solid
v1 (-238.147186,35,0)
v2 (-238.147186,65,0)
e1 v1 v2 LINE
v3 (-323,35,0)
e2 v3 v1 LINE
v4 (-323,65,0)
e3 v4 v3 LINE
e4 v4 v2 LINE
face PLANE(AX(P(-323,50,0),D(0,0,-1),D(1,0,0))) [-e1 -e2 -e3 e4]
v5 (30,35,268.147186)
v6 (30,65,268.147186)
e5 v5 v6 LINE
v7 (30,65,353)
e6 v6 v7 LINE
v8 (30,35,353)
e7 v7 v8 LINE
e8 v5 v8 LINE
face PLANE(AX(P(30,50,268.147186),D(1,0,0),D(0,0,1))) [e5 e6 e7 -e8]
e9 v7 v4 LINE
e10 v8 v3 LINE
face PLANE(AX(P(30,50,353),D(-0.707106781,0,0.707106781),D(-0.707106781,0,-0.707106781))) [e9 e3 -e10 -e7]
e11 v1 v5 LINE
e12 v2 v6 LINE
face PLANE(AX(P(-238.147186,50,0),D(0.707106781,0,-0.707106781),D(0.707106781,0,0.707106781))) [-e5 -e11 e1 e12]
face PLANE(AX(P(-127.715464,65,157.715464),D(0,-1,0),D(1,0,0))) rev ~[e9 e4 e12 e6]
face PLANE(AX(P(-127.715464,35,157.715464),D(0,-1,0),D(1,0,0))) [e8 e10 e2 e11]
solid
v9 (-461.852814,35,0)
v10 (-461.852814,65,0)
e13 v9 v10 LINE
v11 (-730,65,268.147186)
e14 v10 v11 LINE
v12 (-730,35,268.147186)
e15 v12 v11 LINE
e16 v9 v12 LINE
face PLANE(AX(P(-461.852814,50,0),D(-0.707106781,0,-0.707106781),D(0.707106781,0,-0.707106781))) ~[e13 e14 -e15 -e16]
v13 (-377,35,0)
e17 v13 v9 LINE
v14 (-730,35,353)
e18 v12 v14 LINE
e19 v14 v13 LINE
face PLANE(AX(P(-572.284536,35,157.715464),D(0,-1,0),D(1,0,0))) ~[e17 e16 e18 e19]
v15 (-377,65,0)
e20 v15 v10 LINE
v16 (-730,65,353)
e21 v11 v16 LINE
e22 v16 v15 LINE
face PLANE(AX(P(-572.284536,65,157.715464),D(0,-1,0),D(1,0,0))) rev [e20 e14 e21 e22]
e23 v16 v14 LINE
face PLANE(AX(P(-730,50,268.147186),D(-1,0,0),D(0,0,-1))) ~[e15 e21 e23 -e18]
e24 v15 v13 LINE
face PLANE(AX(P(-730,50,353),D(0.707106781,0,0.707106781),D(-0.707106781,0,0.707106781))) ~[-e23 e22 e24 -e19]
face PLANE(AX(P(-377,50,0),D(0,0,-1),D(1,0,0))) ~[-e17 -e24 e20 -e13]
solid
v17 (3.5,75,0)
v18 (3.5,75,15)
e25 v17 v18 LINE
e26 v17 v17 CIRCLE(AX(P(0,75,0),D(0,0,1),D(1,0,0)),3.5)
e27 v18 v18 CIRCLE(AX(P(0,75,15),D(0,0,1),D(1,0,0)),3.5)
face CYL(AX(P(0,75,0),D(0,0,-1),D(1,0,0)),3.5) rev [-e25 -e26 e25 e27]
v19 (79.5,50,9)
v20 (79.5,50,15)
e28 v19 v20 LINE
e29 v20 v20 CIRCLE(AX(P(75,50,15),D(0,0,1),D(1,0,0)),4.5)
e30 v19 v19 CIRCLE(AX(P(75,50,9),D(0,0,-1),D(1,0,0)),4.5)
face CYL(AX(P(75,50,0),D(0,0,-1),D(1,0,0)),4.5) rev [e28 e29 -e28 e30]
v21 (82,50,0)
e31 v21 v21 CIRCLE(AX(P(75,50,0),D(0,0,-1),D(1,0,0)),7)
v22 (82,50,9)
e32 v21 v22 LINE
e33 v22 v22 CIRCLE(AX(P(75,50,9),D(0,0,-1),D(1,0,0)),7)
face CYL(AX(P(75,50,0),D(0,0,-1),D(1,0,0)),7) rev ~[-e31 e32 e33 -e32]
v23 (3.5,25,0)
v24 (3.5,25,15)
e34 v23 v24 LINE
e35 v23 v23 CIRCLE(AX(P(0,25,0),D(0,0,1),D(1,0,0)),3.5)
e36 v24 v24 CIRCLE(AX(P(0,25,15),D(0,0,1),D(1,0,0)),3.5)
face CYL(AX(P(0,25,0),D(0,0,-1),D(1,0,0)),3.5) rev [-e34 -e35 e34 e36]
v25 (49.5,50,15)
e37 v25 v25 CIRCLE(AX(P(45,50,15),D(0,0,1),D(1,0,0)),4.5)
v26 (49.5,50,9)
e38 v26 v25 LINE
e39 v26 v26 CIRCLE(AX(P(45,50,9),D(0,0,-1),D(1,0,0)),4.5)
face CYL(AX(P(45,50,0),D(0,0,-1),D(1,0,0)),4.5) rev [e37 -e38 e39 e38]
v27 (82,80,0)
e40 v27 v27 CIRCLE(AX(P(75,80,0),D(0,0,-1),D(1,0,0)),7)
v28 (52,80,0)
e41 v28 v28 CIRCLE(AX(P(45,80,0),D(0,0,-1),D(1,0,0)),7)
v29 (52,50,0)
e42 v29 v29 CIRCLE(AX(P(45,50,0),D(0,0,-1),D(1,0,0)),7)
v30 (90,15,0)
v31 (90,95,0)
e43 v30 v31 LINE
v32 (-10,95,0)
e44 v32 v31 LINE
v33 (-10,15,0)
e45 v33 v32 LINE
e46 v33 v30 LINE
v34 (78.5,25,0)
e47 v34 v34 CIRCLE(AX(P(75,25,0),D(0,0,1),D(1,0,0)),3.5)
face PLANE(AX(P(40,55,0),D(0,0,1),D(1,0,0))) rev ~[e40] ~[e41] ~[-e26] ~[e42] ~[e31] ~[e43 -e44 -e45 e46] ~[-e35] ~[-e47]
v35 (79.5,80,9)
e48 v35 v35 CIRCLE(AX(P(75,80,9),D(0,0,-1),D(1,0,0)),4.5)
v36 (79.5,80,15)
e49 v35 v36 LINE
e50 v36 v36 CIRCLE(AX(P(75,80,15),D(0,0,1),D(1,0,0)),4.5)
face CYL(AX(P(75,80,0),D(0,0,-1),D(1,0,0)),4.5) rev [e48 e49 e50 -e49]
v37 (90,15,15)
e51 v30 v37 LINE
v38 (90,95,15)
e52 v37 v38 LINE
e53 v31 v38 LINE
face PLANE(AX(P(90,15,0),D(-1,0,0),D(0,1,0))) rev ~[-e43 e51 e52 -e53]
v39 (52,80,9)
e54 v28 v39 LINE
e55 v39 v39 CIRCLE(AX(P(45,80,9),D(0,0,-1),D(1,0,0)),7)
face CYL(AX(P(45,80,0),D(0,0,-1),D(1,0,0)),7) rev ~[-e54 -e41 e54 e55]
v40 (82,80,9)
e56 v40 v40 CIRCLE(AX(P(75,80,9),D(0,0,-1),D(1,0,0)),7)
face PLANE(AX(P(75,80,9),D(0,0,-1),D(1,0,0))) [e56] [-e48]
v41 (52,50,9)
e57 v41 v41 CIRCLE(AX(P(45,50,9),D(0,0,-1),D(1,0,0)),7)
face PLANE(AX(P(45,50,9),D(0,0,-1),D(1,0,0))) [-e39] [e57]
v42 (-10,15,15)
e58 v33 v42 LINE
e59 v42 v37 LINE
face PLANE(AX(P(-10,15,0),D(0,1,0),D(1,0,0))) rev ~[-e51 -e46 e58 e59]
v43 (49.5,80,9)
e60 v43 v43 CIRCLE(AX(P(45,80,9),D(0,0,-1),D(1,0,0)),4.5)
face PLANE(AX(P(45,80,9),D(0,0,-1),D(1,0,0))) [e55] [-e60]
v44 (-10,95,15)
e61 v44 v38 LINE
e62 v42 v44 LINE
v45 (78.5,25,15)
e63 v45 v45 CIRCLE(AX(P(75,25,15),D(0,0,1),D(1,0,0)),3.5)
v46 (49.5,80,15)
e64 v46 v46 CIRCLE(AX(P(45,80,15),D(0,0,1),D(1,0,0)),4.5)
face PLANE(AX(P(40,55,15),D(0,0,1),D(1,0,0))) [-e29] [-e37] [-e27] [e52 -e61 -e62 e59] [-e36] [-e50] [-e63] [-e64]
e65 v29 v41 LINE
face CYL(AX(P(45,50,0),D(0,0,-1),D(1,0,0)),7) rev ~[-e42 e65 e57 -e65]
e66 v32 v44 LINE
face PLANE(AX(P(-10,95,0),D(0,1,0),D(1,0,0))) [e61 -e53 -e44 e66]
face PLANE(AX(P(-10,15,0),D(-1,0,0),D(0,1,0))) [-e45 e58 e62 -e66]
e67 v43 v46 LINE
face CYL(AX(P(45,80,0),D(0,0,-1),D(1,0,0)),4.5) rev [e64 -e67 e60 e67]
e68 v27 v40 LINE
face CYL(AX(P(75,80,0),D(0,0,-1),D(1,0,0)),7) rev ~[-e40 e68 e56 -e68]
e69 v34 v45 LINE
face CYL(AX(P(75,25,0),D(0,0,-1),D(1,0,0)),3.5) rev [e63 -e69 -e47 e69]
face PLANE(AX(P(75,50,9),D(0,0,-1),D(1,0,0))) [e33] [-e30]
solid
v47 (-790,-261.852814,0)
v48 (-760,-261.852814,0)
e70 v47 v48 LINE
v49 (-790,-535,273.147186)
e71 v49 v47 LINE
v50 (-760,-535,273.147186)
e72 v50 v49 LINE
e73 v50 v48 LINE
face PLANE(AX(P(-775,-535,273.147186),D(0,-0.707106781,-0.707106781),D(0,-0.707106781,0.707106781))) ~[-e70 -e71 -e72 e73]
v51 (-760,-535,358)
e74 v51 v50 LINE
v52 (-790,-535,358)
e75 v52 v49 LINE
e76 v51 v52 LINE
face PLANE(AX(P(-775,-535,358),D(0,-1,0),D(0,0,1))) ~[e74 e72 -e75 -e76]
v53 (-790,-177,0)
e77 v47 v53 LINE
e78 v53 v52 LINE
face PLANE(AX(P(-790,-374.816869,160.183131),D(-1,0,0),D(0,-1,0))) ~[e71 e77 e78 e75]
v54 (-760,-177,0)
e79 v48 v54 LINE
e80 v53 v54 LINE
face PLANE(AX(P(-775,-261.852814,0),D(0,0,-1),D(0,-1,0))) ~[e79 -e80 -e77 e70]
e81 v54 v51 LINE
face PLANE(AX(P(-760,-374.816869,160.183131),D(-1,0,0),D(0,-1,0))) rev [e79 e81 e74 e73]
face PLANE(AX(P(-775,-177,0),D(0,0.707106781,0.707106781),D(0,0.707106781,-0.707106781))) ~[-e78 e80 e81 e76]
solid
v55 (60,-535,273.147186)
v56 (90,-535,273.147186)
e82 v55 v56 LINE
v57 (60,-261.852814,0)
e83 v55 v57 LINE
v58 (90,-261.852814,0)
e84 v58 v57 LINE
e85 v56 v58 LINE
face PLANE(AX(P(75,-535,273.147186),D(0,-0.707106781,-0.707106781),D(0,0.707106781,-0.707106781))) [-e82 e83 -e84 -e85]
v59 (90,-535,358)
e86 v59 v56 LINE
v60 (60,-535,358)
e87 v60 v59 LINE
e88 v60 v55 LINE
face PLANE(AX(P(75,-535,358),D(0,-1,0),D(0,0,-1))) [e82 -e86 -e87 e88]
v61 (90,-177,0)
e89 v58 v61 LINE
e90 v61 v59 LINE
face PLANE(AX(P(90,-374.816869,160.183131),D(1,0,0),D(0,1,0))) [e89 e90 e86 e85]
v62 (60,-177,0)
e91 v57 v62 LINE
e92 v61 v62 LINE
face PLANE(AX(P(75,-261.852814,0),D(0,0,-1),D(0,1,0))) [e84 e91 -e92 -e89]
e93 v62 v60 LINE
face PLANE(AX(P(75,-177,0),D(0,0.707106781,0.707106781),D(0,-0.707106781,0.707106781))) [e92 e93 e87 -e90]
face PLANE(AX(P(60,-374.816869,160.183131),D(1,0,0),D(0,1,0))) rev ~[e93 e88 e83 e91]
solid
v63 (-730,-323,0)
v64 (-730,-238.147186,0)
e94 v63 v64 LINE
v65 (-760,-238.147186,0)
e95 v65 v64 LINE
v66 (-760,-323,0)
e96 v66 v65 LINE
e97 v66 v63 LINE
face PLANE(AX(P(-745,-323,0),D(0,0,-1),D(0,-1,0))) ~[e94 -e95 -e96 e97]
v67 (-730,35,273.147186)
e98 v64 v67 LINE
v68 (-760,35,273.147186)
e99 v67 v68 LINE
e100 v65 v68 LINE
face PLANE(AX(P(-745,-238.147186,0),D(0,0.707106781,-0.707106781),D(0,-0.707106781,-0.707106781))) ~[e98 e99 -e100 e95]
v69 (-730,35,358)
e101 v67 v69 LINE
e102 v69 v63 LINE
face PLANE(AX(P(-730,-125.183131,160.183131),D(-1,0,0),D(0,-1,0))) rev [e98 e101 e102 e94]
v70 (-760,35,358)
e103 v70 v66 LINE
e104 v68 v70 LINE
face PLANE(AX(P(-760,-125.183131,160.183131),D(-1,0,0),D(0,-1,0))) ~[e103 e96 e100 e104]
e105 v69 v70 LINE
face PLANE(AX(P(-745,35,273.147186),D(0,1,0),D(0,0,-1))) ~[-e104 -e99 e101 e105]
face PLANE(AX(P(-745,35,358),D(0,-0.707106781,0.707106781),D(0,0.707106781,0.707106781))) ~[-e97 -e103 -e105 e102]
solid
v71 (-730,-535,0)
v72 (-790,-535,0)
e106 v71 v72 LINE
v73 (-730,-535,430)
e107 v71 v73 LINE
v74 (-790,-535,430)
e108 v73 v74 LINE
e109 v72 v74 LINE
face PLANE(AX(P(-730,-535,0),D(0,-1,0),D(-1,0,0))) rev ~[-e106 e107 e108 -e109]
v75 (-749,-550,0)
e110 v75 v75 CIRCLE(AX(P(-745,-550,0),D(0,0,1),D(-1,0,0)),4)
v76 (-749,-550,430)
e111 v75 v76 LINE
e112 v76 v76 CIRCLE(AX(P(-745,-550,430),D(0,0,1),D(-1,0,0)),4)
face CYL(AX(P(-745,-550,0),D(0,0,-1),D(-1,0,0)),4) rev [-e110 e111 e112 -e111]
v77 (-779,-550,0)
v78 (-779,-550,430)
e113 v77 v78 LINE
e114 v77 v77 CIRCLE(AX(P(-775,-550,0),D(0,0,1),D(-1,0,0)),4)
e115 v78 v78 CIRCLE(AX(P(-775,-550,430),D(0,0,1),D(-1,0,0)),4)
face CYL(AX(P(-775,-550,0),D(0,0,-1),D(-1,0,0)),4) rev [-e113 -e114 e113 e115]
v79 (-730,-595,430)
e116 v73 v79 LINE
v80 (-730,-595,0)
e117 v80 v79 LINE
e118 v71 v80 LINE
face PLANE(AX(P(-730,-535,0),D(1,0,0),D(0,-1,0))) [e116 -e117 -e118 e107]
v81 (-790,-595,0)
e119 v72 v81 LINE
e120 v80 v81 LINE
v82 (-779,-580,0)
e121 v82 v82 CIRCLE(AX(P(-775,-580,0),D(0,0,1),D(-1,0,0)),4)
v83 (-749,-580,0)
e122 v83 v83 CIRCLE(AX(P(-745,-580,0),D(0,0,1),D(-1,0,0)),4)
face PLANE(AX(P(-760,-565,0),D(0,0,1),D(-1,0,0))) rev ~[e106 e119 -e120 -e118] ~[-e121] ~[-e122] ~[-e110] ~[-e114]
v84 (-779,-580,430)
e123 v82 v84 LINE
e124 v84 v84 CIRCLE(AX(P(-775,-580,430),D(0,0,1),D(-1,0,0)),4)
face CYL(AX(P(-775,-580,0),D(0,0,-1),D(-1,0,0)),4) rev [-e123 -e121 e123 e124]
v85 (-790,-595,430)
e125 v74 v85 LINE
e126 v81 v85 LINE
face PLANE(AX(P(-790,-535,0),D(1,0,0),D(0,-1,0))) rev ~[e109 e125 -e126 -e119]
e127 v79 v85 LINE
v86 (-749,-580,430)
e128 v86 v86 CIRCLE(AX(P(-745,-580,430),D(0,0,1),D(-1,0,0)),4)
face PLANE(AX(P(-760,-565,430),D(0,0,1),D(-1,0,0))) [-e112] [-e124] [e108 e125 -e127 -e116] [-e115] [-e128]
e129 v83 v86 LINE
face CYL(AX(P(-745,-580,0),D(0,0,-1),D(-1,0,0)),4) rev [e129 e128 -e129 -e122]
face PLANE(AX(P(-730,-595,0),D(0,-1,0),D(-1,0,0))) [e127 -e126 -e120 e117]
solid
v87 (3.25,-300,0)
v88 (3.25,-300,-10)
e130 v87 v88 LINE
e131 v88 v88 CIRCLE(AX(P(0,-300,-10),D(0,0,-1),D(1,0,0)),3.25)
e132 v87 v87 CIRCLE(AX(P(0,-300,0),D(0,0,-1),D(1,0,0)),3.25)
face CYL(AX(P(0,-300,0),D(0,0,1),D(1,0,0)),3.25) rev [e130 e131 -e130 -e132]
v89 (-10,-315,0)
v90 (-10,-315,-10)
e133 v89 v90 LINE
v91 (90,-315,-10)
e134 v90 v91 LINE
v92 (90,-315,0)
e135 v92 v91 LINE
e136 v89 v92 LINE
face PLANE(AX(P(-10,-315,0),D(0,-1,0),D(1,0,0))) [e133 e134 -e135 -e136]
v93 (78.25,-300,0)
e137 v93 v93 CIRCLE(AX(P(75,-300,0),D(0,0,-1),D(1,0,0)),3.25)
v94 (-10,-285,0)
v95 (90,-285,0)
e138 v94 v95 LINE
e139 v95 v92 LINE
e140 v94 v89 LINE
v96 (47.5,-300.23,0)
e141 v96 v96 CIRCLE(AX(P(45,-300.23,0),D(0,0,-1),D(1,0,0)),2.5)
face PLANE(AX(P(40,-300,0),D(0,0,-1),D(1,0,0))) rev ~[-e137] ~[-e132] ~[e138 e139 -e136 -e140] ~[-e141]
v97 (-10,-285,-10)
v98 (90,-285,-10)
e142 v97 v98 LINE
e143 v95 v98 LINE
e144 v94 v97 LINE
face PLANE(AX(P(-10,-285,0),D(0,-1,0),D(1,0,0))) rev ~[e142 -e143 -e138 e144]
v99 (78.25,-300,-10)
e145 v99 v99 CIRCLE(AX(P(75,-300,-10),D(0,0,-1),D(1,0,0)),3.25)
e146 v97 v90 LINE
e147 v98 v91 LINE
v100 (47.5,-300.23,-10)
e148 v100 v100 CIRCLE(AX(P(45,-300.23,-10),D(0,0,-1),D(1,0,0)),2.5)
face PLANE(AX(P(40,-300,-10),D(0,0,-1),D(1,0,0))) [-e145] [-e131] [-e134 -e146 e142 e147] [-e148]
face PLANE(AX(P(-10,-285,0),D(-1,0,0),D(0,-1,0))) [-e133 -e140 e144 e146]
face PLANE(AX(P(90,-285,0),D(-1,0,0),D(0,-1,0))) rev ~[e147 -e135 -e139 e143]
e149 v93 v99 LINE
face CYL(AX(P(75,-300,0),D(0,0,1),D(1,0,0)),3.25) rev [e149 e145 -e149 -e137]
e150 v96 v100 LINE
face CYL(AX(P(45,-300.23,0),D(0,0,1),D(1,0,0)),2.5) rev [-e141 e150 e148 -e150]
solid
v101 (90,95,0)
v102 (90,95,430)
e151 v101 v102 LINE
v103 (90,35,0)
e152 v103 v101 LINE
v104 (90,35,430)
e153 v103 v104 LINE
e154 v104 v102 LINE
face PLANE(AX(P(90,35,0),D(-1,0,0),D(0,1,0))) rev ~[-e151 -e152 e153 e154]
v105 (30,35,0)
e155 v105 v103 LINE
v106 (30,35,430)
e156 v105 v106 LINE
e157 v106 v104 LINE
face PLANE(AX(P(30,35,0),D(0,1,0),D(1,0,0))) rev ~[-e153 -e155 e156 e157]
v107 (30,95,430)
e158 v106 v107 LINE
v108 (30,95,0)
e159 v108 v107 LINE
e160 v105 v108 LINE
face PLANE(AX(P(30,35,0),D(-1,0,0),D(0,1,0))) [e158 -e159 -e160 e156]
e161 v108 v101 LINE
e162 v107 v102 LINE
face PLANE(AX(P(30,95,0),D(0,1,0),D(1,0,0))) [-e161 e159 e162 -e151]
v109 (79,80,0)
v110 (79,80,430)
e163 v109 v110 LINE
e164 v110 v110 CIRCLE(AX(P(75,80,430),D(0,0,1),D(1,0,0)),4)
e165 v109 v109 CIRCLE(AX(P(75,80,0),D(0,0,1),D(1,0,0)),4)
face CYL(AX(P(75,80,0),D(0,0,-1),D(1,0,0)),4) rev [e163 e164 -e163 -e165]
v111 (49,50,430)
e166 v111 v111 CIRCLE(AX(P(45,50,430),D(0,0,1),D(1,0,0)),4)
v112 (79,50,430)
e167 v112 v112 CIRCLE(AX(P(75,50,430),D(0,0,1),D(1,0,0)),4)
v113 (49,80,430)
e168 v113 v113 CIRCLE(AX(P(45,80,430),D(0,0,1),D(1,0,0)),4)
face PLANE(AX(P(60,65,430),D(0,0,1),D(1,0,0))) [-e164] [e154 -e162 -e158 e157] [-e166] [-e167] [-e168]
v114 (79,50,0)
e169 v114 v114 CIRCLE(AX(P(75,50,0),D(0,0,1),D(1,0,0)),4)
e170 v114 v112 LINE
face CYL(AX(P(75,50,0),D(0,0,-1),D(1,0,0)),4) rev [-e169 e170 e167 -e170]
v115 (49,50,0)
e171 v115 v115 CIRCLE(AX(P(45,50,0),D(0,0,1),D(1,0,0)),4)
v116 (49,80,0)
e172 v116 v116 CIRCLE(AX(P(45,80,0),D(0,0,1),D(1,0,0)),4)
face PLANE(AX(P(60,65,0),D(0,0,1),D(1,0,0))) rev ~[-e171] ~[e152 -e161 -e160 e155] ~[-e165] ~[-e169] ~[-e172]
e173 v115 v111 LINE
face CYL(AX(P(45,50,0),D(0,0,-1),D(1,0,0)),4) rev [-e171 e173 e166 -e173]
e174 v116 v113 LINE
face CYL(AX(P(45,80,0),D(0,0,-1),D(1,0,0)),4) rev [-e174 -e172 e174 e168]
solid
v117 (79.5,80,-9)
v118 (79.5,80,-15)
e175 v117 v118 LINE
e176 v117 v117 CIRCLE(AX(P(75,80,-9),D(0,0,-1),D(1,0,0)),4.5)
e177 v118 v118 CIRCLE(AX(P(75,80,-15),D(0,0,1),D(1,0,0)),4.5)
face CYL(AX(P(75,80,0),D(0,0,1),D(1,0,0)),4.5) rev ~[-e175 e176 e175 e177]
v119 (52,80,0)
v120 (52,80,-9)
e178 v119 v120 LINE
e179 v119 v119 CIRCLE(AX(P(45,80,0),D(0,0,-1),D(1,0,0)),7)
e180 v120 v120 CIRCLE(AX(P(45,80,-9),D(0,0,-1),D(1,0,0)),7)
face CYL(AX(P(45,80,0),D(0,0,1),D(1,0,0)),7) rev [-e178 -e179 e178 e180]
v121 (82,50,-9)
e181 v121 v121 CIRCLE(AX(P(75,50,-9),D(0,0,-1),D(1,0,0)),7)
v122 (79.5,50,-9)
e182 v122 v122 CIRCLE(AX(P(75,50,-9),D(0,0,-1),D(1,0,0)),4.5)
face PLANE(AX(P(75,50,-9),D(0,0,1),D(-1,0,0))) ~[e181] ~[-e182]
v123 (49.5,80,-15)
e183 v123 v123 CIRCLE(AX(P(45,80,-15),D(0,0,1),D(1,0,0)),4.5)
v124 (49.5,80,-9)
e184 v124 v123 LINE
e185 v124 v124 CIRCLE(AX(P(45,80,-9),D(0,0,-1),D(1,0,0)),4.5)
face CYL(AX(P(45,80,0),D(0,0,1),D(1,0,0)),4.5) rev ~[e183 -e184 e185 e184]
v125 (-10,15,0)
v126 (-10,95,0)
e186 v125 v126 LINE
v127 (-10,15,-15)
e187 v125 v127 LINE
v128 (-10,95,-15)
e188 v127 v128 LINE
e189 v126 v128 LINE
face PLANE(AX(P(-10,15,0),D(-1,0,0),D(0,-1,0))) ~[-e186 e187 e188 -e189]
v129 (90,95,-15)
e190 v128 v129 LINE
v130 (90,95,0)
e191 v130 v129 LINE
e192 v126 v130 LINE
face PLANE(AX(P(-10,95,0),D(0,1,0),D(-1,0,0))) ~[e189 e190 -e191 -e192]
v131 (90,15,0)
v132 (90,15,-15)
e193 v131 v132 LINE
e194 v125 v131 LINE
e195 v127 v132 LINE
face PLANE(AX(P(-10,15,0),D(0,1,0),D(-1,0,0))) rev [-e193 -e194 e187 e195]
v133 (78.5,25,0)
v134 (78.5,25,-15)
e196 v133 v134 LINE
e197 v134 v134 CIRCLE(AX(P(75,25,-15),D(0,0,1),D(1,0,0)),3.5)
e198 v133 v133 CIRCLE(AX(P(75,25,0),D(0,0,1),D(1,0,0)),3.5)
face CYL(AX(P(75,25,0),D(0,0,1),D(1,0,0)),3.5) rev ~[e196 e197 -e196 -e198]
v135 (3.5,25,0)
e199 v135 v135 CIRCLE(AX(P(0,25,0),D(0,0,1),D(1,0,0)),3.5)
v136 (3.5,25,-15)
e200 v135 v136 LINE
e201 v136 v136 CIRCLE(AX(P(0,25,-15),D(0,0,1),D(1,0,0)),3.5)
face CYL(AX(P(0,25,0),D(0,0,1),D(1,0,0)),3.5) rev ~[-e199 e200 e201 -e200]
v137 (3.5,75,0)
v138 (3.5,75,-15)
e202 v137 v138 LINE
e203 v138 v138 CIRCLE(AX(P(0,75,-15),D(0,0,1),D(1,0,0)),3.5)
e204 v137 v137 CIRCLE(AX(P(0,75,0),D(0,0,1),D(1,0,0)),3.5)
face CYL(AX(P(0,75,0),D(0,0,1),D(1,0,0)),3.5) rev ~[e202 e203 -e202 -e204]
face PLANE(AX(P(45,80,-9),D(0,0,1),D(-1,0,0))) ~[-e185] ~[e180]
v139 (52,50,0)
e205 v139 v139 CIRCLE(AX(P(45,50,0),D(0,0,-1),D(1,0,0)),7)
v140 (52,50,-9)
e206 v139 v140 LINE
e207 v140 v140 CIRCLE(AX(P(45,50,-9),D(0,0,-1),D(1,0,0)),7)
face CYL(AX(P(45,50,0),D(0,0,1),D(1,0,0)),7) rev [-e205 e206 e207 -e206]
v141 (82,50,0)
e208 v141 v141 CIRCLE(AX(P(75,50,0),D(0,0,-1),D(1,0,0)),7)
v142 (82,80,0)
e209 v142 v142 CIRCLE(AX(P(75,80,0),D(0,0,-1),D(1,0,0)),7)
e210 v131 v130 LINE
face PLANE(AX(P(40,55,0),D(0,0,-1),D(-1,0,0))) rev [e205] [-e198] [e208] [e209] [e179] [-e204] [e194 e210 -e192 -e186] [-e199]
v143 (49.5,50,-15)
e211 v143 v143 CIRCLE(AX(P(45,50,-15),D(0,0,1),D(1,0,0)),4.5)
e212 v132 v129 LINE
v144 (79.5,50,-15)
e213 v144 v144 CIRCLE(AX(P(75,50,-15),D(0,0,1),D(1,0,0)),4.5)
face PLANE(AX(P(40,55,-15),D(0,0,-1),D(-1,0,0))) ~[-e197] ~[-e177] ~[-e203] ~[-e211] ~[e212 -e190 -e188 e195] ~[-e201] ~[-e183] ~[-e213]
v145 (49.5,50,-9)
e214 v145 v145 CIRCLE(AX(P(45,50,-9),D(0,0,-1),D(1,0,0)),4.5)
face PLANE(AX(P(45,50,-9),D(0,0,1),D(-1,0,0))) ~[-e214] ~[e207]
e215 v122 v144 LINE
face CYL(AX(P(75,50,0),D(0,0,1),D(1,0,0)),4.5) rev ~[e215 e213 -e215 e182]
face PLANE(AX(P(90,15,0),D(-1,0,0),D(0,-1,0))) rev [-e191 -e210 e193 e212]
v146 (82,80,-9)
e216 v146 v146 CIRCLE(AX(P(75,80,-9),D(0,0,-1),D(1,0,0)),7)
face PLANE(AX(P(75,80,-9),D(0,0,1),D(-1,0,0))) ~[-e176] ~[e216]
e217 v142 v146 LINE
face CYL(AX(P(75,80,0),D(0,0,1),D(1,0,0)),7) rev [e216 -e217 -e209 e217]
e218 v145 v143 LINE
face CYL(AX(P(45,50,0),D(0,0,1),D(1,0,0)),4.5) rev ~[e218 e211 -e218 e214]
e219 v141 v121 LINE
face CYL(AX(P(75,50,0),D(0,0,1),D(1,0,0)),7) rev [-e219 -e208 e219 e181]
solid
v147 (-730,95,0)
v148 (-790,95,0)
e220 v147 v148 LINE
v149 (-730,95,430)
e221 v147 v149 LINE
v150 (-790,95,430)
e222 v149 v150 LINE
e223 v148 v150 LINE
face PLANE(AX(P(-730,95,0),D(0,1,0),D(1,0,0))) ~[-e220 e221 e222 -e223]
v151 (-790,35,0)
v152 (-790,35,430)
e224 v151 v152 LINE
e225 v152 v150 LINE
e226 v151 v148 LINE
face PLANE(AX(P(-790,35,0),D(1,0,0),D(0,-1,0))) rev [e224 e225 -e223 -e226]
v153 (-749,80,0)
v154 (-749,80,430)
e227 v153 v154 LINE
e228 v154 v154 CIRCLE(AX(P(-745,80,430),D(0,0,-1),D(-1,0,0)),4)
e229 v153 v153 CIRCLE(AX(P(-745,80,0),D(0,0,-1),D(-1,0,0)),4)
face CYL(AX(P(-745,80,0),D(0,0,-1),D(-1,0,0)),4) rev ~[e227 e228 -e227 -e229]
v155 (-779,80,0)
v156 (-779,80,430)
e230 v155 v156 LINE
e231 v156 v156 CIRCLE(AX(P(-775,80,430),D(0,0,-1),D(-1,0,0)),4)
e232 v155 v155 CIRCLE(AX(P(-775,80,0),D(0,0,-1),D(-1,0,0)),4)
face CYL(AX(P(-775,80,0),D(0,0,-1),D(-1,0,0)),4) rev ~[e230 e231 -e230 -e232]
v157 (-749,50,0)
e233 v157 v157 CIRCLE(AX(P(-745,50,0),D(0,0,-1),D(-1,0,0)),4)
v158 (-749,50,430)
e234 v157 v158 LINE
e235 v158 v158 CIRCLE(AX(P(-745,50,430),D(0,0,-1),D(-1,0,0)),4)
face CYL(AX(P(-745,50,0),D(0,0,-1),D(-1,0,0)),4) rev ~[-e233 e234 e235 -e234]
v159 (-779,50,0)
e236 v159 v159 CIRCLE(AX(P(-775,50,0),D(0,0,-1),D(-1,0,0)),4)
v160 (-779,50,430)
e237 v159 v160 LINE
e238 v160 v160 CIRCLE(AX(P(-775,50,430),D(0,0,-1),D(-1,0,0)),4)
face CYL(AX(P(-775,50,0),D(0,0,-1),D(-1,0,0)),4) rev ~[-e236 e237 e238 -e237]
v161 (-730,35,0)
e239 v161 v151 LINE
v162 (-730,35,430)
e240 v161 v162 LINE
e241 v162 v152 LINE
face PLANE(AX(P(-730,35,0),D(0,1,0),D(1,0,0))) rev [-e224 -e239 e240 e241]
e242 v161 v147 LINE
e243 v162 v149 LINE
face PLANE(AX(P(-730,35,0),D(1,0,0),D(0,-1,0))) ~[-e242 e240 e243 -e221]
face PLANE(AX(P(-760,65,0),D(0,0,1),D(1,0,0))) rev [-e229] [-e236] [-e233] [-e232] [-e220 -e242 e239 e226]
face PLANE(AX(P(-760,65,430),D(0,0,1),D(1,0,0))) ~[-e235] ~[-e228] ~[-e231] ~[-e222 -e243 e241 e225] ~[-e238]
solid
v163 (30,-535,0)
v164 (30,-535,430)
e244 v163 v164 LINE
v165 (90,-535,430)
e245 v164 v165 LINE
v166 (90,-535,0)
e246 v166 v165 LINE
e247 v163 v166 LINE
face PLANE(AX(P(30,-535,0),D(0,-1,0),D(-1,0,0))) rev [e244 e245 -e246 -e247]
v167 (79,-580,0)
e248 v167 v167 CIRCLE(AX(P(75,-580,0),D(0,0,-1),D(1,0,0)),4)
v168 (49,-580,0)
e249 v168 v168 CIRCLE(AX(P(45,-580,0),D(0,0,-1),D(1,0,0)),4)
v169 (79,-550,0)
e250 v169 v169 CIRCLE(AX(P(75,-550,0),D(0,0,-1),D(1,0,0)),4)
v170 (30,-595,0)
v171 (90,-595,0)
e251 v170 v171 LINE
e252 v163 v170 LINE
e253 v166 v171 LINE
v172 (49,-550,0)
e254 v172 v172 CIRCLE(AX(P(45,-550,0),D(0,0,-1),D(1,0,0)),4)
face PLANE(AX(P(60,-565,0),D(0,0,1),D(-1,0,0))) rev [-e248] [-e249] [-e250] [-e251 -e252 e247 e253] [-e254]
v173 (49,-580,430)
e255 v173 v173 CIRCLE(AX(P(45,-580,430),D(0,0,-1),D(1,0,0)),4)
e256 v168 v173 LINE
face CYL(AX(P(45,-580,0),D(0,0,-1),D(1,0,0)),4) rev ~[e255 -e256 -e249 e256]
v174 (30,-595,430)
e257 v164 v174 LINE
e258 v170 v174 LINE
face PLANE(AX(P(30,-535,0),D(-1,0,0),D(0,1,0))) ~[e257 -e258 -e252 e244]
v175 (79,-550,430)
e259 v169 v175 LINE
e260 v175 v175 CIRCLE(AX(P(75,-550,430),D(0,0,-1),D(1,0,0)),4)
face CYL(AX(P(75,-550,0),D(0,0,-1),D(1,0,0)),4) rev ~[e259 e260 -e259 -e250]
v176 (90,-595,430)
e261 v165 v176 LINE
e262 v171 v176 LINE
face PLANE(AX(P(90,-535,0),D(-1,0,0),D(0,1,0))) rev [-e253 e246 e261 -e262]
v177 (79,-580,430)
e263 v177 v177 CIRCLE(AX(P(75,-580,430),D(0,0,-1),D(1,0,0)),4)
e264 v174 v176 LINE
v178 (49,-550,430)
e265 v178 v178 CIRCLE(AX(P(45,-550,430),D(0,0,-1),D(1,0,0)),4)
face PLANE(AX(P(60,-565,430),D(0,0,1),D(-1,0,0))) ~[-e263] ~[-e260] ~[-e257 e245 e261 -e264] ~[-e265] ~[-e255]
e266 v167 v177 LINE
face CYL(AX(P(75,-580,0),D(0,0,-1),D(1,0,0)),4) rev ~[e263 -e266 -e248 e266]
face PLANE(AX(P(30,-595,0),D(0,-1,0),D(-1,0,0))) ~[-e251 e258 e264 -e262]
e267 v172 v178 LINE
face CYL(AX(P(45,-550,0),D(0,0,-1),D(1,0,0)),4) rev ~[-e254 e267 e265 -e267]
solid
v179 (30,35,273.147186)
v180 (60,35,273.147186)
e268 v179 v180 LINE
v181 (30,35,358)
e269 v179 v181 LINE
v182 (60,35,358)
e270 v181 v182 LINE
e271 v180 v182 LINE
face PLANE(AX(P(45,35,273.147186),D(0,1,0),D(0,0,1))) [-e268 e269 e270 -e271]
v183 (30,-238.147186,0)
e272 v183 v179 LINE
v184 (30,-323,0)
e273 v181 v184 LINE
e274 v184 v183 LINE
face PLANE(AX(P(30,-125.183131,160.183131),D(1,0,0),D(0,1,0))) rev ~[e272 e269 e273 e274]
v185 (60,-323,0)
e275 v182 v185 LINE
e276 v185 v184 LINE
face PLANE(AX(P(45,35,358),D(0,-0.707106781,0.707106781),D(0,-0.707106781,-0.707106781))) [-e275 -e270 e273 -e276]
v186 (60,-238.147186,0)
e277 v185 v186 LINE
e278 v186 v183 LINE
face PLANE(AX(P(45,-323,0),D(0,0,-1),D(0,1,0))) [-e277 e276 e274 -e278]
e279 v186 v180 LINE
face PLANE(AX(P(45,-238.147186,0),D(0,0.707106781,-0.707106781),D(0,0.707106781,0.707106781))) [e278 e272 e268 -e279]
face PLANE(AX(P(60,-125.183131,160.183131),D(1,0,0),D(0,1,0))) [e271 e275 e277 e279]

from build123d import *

# Parameters (mm, degrees)
F2_W      = 100
F2_H      = 80
F2_R      = 3.5
F2_R_2    = 4.5
F3_DEPTH  = 15
F4_R      = 7
F5_DEPTH  = 9
F11_DEPTH = 15
F12_W     = 100
F12_H     = 30
F12_R     = 3.25
F12_R_2   = 2.5
F13_DEPTH = 10
F16_DEPTH = 15
F19_DEPTH = 15
F1_W      = 60
F1_H      = 60
F1_R      = 4
F24_DEPTH = 430


with BuildPart() as f3:
    # F2 (on Top) → F3 (new body)
    with BuildSketch(Plane.XY):
        with Locations((40, 55)):
            Rectangle(F2_W, F2_H)
        with Locations((0, 25)):
            Circle(F2_R, mode=Mode.SUBTRACT)
        with Locations((75, 25)):
            Circle(F2_R, mode=Mode.SUBTRACT)
        with Locations((45, 50)):
            Circle(F2_R_2, mode=Mode.SUBTRACT)
        with Locations((75, 50)):
            Circle(F2_R_2, mode=Mode.SUBTRACT)
        with Locations((0, 75)):
            Circle(F2_R, mode=Mode.SUBTRACT)
        with Locations((45, 80)):
            Circle(F2_R_2, mode=Mode.SUBTRACT)
        with Locations((75, 80)):
            Circle(F2_R_2, mode=Mode.SUBTRACT)
    extrude(amount=F3_DEPTH)

    # F4 (on face) → F5 (cut)
    with BuildSketch(Plane(origin=(0, 0, 0), x_dir=(1, 0, 0), z_dir=(0, 0, -1))):
        with Locations((45, -50)):
            Circle(F4_R)
        with Locations((75, -50)):
            Circle(F4_R)
        with Locations((75, -80)):
            Circle(F4_R)
        with Locations((45, -80)):
            Circle(F4_R)
    extrude(amount=-F5_DEPTH, mode=Mode.SUBTRACT)


with BuildPart() as f6_1:
    # F6: copy of F3
    add(f3.part.moved(Location((0, 0, 15))))


with BuildPart() as f8_1:
    # F8: instance of F3
    add(f3.part.mirror(Plane.XY))


with BuildPart() as f11:
    # F10 (on plane+point) → F11 (new body, symmetric)
    with BuildSketch(Plane.YZ.offset(45)):
        Polygon((-238.1471862576, 0), (35, 273.1471862576), (35, 358), (-323, 0), align=None)
    extrude(amount=F11_DEPTH, both=True)


with BuildPart() as f13:
    # F12 (on face) → F13 (new body)
    with BuildSketch(Plane(origin=(0, 0, 0), x_dir=(1, 0, 0), z_dir=(0, 0, -1))):
        with Locations((40, 300)):
            Rectangle(F12_W, F12_H)
        with Locations((0, 300)):
            Circle(F12_R, mode=Mode.SUBTRACT)
        with Locations((45, 300.23)):
            Circle(F12_R_2, mode=Mode.SUBTRACT)
        with Locations((75, 300)):
            Circle(F12_R, mode=Mode.SUBTRACT)
    extrude(amount=F13_DEPTH)


with BuildPart() as f16:
    # F15 (on plane+point) → F16 (new body, symmetric)
    with BuildSketch(Plane.YZ.offset(75)):
        Polygon((-177, 0), (-535, 358), (-535, 273.1471862576), (-261.8528137424, 0), align=None)
    extrude(amount=F16_DEPTH, both=True)


with BuildPart() as f19:
    # F18 (on plane+point) → F19 (new body, symmetric)
    with BuildSketch(Plane.XZ.offset(-50)):
        Polygon((30, 268.1471862576), (30, 353), (-323, 0), (-238.1471862576, 0), align=None)
    extrude(amount=F19_DEPTH, both=True)


with BuildPart() as f21_1:
    # F21: instance of F19
    add(f19.part.mirror(Plane(origin=(-350, 50, 0), x_dir=(0, 1, 0), z_dir=(-1, 0, 0))))


with BuildPart() as f22_1:
    # F22: instance of F16
    add(f16.part.mirror(Plane(origin=(-350, 50, 0), x_dir=(0, 1, 0), z_dir=(-1, 0, 0))))


with BuildPart() as f23_1:
    # F23: instance of F11
    add(f11.part.mirror(Plane(origin=(-350, 50, 0), x_dir=(0, 1, 0), z_dir=(-1, 0, 0))))


with BuildPart() as f24:
    # F1 (on Top) → F24 (new body)
    with BuildSketch(Plane.XY):
        with Locations((60, 65)):
            Rectangle(F1_W, F1_H)
        with Locations((45, 50)):
            Circle(F1_R, mode=Mode.SUBTRACT)
        with Locations((75, 50)):
            Circle(F1_R, mode=Mode.SUBTRACT)
        with Locations((45, 80)):
            Circle(F1_R, mode=Mode.SUBTRACT)
        with Locations((75, 80)):
            Circle(F1_R, mode=Mode.SUBTRACT)
    extrude(amount=F24_DEPTH)


with BuildPart() as f27_1:
    # F27: instance of F24
    add(f24.part.mirror(Plane(origin=(75, -250, 430), x_dir=(0, 0, -1), z_dir=(0, 1, 0))))


with BuildPart() as f28_1:
    # F28: instance of F24
    add(f24.part.mirror(Plane(origin=(-350, 50, 0), x_dir=(0, 1, 0), z_dir=(-1, 0, 0))))


with BuildPart() as f29_1:
    # F29: instance of F28_1
    add(f28_1.part.mirror(Plane(origin=(75, -250, 430), x_dir=(0, 0, -1), z_dir=(0, 1, 0))))


solid = Compound([f3.part, f8_1.part, f11.part, f13.part, f16.part, f19.part, f21_1.part, f22_1.part, f23_1.part, f24.part, f27_1.part, f28_1.part, f29_1.part])
